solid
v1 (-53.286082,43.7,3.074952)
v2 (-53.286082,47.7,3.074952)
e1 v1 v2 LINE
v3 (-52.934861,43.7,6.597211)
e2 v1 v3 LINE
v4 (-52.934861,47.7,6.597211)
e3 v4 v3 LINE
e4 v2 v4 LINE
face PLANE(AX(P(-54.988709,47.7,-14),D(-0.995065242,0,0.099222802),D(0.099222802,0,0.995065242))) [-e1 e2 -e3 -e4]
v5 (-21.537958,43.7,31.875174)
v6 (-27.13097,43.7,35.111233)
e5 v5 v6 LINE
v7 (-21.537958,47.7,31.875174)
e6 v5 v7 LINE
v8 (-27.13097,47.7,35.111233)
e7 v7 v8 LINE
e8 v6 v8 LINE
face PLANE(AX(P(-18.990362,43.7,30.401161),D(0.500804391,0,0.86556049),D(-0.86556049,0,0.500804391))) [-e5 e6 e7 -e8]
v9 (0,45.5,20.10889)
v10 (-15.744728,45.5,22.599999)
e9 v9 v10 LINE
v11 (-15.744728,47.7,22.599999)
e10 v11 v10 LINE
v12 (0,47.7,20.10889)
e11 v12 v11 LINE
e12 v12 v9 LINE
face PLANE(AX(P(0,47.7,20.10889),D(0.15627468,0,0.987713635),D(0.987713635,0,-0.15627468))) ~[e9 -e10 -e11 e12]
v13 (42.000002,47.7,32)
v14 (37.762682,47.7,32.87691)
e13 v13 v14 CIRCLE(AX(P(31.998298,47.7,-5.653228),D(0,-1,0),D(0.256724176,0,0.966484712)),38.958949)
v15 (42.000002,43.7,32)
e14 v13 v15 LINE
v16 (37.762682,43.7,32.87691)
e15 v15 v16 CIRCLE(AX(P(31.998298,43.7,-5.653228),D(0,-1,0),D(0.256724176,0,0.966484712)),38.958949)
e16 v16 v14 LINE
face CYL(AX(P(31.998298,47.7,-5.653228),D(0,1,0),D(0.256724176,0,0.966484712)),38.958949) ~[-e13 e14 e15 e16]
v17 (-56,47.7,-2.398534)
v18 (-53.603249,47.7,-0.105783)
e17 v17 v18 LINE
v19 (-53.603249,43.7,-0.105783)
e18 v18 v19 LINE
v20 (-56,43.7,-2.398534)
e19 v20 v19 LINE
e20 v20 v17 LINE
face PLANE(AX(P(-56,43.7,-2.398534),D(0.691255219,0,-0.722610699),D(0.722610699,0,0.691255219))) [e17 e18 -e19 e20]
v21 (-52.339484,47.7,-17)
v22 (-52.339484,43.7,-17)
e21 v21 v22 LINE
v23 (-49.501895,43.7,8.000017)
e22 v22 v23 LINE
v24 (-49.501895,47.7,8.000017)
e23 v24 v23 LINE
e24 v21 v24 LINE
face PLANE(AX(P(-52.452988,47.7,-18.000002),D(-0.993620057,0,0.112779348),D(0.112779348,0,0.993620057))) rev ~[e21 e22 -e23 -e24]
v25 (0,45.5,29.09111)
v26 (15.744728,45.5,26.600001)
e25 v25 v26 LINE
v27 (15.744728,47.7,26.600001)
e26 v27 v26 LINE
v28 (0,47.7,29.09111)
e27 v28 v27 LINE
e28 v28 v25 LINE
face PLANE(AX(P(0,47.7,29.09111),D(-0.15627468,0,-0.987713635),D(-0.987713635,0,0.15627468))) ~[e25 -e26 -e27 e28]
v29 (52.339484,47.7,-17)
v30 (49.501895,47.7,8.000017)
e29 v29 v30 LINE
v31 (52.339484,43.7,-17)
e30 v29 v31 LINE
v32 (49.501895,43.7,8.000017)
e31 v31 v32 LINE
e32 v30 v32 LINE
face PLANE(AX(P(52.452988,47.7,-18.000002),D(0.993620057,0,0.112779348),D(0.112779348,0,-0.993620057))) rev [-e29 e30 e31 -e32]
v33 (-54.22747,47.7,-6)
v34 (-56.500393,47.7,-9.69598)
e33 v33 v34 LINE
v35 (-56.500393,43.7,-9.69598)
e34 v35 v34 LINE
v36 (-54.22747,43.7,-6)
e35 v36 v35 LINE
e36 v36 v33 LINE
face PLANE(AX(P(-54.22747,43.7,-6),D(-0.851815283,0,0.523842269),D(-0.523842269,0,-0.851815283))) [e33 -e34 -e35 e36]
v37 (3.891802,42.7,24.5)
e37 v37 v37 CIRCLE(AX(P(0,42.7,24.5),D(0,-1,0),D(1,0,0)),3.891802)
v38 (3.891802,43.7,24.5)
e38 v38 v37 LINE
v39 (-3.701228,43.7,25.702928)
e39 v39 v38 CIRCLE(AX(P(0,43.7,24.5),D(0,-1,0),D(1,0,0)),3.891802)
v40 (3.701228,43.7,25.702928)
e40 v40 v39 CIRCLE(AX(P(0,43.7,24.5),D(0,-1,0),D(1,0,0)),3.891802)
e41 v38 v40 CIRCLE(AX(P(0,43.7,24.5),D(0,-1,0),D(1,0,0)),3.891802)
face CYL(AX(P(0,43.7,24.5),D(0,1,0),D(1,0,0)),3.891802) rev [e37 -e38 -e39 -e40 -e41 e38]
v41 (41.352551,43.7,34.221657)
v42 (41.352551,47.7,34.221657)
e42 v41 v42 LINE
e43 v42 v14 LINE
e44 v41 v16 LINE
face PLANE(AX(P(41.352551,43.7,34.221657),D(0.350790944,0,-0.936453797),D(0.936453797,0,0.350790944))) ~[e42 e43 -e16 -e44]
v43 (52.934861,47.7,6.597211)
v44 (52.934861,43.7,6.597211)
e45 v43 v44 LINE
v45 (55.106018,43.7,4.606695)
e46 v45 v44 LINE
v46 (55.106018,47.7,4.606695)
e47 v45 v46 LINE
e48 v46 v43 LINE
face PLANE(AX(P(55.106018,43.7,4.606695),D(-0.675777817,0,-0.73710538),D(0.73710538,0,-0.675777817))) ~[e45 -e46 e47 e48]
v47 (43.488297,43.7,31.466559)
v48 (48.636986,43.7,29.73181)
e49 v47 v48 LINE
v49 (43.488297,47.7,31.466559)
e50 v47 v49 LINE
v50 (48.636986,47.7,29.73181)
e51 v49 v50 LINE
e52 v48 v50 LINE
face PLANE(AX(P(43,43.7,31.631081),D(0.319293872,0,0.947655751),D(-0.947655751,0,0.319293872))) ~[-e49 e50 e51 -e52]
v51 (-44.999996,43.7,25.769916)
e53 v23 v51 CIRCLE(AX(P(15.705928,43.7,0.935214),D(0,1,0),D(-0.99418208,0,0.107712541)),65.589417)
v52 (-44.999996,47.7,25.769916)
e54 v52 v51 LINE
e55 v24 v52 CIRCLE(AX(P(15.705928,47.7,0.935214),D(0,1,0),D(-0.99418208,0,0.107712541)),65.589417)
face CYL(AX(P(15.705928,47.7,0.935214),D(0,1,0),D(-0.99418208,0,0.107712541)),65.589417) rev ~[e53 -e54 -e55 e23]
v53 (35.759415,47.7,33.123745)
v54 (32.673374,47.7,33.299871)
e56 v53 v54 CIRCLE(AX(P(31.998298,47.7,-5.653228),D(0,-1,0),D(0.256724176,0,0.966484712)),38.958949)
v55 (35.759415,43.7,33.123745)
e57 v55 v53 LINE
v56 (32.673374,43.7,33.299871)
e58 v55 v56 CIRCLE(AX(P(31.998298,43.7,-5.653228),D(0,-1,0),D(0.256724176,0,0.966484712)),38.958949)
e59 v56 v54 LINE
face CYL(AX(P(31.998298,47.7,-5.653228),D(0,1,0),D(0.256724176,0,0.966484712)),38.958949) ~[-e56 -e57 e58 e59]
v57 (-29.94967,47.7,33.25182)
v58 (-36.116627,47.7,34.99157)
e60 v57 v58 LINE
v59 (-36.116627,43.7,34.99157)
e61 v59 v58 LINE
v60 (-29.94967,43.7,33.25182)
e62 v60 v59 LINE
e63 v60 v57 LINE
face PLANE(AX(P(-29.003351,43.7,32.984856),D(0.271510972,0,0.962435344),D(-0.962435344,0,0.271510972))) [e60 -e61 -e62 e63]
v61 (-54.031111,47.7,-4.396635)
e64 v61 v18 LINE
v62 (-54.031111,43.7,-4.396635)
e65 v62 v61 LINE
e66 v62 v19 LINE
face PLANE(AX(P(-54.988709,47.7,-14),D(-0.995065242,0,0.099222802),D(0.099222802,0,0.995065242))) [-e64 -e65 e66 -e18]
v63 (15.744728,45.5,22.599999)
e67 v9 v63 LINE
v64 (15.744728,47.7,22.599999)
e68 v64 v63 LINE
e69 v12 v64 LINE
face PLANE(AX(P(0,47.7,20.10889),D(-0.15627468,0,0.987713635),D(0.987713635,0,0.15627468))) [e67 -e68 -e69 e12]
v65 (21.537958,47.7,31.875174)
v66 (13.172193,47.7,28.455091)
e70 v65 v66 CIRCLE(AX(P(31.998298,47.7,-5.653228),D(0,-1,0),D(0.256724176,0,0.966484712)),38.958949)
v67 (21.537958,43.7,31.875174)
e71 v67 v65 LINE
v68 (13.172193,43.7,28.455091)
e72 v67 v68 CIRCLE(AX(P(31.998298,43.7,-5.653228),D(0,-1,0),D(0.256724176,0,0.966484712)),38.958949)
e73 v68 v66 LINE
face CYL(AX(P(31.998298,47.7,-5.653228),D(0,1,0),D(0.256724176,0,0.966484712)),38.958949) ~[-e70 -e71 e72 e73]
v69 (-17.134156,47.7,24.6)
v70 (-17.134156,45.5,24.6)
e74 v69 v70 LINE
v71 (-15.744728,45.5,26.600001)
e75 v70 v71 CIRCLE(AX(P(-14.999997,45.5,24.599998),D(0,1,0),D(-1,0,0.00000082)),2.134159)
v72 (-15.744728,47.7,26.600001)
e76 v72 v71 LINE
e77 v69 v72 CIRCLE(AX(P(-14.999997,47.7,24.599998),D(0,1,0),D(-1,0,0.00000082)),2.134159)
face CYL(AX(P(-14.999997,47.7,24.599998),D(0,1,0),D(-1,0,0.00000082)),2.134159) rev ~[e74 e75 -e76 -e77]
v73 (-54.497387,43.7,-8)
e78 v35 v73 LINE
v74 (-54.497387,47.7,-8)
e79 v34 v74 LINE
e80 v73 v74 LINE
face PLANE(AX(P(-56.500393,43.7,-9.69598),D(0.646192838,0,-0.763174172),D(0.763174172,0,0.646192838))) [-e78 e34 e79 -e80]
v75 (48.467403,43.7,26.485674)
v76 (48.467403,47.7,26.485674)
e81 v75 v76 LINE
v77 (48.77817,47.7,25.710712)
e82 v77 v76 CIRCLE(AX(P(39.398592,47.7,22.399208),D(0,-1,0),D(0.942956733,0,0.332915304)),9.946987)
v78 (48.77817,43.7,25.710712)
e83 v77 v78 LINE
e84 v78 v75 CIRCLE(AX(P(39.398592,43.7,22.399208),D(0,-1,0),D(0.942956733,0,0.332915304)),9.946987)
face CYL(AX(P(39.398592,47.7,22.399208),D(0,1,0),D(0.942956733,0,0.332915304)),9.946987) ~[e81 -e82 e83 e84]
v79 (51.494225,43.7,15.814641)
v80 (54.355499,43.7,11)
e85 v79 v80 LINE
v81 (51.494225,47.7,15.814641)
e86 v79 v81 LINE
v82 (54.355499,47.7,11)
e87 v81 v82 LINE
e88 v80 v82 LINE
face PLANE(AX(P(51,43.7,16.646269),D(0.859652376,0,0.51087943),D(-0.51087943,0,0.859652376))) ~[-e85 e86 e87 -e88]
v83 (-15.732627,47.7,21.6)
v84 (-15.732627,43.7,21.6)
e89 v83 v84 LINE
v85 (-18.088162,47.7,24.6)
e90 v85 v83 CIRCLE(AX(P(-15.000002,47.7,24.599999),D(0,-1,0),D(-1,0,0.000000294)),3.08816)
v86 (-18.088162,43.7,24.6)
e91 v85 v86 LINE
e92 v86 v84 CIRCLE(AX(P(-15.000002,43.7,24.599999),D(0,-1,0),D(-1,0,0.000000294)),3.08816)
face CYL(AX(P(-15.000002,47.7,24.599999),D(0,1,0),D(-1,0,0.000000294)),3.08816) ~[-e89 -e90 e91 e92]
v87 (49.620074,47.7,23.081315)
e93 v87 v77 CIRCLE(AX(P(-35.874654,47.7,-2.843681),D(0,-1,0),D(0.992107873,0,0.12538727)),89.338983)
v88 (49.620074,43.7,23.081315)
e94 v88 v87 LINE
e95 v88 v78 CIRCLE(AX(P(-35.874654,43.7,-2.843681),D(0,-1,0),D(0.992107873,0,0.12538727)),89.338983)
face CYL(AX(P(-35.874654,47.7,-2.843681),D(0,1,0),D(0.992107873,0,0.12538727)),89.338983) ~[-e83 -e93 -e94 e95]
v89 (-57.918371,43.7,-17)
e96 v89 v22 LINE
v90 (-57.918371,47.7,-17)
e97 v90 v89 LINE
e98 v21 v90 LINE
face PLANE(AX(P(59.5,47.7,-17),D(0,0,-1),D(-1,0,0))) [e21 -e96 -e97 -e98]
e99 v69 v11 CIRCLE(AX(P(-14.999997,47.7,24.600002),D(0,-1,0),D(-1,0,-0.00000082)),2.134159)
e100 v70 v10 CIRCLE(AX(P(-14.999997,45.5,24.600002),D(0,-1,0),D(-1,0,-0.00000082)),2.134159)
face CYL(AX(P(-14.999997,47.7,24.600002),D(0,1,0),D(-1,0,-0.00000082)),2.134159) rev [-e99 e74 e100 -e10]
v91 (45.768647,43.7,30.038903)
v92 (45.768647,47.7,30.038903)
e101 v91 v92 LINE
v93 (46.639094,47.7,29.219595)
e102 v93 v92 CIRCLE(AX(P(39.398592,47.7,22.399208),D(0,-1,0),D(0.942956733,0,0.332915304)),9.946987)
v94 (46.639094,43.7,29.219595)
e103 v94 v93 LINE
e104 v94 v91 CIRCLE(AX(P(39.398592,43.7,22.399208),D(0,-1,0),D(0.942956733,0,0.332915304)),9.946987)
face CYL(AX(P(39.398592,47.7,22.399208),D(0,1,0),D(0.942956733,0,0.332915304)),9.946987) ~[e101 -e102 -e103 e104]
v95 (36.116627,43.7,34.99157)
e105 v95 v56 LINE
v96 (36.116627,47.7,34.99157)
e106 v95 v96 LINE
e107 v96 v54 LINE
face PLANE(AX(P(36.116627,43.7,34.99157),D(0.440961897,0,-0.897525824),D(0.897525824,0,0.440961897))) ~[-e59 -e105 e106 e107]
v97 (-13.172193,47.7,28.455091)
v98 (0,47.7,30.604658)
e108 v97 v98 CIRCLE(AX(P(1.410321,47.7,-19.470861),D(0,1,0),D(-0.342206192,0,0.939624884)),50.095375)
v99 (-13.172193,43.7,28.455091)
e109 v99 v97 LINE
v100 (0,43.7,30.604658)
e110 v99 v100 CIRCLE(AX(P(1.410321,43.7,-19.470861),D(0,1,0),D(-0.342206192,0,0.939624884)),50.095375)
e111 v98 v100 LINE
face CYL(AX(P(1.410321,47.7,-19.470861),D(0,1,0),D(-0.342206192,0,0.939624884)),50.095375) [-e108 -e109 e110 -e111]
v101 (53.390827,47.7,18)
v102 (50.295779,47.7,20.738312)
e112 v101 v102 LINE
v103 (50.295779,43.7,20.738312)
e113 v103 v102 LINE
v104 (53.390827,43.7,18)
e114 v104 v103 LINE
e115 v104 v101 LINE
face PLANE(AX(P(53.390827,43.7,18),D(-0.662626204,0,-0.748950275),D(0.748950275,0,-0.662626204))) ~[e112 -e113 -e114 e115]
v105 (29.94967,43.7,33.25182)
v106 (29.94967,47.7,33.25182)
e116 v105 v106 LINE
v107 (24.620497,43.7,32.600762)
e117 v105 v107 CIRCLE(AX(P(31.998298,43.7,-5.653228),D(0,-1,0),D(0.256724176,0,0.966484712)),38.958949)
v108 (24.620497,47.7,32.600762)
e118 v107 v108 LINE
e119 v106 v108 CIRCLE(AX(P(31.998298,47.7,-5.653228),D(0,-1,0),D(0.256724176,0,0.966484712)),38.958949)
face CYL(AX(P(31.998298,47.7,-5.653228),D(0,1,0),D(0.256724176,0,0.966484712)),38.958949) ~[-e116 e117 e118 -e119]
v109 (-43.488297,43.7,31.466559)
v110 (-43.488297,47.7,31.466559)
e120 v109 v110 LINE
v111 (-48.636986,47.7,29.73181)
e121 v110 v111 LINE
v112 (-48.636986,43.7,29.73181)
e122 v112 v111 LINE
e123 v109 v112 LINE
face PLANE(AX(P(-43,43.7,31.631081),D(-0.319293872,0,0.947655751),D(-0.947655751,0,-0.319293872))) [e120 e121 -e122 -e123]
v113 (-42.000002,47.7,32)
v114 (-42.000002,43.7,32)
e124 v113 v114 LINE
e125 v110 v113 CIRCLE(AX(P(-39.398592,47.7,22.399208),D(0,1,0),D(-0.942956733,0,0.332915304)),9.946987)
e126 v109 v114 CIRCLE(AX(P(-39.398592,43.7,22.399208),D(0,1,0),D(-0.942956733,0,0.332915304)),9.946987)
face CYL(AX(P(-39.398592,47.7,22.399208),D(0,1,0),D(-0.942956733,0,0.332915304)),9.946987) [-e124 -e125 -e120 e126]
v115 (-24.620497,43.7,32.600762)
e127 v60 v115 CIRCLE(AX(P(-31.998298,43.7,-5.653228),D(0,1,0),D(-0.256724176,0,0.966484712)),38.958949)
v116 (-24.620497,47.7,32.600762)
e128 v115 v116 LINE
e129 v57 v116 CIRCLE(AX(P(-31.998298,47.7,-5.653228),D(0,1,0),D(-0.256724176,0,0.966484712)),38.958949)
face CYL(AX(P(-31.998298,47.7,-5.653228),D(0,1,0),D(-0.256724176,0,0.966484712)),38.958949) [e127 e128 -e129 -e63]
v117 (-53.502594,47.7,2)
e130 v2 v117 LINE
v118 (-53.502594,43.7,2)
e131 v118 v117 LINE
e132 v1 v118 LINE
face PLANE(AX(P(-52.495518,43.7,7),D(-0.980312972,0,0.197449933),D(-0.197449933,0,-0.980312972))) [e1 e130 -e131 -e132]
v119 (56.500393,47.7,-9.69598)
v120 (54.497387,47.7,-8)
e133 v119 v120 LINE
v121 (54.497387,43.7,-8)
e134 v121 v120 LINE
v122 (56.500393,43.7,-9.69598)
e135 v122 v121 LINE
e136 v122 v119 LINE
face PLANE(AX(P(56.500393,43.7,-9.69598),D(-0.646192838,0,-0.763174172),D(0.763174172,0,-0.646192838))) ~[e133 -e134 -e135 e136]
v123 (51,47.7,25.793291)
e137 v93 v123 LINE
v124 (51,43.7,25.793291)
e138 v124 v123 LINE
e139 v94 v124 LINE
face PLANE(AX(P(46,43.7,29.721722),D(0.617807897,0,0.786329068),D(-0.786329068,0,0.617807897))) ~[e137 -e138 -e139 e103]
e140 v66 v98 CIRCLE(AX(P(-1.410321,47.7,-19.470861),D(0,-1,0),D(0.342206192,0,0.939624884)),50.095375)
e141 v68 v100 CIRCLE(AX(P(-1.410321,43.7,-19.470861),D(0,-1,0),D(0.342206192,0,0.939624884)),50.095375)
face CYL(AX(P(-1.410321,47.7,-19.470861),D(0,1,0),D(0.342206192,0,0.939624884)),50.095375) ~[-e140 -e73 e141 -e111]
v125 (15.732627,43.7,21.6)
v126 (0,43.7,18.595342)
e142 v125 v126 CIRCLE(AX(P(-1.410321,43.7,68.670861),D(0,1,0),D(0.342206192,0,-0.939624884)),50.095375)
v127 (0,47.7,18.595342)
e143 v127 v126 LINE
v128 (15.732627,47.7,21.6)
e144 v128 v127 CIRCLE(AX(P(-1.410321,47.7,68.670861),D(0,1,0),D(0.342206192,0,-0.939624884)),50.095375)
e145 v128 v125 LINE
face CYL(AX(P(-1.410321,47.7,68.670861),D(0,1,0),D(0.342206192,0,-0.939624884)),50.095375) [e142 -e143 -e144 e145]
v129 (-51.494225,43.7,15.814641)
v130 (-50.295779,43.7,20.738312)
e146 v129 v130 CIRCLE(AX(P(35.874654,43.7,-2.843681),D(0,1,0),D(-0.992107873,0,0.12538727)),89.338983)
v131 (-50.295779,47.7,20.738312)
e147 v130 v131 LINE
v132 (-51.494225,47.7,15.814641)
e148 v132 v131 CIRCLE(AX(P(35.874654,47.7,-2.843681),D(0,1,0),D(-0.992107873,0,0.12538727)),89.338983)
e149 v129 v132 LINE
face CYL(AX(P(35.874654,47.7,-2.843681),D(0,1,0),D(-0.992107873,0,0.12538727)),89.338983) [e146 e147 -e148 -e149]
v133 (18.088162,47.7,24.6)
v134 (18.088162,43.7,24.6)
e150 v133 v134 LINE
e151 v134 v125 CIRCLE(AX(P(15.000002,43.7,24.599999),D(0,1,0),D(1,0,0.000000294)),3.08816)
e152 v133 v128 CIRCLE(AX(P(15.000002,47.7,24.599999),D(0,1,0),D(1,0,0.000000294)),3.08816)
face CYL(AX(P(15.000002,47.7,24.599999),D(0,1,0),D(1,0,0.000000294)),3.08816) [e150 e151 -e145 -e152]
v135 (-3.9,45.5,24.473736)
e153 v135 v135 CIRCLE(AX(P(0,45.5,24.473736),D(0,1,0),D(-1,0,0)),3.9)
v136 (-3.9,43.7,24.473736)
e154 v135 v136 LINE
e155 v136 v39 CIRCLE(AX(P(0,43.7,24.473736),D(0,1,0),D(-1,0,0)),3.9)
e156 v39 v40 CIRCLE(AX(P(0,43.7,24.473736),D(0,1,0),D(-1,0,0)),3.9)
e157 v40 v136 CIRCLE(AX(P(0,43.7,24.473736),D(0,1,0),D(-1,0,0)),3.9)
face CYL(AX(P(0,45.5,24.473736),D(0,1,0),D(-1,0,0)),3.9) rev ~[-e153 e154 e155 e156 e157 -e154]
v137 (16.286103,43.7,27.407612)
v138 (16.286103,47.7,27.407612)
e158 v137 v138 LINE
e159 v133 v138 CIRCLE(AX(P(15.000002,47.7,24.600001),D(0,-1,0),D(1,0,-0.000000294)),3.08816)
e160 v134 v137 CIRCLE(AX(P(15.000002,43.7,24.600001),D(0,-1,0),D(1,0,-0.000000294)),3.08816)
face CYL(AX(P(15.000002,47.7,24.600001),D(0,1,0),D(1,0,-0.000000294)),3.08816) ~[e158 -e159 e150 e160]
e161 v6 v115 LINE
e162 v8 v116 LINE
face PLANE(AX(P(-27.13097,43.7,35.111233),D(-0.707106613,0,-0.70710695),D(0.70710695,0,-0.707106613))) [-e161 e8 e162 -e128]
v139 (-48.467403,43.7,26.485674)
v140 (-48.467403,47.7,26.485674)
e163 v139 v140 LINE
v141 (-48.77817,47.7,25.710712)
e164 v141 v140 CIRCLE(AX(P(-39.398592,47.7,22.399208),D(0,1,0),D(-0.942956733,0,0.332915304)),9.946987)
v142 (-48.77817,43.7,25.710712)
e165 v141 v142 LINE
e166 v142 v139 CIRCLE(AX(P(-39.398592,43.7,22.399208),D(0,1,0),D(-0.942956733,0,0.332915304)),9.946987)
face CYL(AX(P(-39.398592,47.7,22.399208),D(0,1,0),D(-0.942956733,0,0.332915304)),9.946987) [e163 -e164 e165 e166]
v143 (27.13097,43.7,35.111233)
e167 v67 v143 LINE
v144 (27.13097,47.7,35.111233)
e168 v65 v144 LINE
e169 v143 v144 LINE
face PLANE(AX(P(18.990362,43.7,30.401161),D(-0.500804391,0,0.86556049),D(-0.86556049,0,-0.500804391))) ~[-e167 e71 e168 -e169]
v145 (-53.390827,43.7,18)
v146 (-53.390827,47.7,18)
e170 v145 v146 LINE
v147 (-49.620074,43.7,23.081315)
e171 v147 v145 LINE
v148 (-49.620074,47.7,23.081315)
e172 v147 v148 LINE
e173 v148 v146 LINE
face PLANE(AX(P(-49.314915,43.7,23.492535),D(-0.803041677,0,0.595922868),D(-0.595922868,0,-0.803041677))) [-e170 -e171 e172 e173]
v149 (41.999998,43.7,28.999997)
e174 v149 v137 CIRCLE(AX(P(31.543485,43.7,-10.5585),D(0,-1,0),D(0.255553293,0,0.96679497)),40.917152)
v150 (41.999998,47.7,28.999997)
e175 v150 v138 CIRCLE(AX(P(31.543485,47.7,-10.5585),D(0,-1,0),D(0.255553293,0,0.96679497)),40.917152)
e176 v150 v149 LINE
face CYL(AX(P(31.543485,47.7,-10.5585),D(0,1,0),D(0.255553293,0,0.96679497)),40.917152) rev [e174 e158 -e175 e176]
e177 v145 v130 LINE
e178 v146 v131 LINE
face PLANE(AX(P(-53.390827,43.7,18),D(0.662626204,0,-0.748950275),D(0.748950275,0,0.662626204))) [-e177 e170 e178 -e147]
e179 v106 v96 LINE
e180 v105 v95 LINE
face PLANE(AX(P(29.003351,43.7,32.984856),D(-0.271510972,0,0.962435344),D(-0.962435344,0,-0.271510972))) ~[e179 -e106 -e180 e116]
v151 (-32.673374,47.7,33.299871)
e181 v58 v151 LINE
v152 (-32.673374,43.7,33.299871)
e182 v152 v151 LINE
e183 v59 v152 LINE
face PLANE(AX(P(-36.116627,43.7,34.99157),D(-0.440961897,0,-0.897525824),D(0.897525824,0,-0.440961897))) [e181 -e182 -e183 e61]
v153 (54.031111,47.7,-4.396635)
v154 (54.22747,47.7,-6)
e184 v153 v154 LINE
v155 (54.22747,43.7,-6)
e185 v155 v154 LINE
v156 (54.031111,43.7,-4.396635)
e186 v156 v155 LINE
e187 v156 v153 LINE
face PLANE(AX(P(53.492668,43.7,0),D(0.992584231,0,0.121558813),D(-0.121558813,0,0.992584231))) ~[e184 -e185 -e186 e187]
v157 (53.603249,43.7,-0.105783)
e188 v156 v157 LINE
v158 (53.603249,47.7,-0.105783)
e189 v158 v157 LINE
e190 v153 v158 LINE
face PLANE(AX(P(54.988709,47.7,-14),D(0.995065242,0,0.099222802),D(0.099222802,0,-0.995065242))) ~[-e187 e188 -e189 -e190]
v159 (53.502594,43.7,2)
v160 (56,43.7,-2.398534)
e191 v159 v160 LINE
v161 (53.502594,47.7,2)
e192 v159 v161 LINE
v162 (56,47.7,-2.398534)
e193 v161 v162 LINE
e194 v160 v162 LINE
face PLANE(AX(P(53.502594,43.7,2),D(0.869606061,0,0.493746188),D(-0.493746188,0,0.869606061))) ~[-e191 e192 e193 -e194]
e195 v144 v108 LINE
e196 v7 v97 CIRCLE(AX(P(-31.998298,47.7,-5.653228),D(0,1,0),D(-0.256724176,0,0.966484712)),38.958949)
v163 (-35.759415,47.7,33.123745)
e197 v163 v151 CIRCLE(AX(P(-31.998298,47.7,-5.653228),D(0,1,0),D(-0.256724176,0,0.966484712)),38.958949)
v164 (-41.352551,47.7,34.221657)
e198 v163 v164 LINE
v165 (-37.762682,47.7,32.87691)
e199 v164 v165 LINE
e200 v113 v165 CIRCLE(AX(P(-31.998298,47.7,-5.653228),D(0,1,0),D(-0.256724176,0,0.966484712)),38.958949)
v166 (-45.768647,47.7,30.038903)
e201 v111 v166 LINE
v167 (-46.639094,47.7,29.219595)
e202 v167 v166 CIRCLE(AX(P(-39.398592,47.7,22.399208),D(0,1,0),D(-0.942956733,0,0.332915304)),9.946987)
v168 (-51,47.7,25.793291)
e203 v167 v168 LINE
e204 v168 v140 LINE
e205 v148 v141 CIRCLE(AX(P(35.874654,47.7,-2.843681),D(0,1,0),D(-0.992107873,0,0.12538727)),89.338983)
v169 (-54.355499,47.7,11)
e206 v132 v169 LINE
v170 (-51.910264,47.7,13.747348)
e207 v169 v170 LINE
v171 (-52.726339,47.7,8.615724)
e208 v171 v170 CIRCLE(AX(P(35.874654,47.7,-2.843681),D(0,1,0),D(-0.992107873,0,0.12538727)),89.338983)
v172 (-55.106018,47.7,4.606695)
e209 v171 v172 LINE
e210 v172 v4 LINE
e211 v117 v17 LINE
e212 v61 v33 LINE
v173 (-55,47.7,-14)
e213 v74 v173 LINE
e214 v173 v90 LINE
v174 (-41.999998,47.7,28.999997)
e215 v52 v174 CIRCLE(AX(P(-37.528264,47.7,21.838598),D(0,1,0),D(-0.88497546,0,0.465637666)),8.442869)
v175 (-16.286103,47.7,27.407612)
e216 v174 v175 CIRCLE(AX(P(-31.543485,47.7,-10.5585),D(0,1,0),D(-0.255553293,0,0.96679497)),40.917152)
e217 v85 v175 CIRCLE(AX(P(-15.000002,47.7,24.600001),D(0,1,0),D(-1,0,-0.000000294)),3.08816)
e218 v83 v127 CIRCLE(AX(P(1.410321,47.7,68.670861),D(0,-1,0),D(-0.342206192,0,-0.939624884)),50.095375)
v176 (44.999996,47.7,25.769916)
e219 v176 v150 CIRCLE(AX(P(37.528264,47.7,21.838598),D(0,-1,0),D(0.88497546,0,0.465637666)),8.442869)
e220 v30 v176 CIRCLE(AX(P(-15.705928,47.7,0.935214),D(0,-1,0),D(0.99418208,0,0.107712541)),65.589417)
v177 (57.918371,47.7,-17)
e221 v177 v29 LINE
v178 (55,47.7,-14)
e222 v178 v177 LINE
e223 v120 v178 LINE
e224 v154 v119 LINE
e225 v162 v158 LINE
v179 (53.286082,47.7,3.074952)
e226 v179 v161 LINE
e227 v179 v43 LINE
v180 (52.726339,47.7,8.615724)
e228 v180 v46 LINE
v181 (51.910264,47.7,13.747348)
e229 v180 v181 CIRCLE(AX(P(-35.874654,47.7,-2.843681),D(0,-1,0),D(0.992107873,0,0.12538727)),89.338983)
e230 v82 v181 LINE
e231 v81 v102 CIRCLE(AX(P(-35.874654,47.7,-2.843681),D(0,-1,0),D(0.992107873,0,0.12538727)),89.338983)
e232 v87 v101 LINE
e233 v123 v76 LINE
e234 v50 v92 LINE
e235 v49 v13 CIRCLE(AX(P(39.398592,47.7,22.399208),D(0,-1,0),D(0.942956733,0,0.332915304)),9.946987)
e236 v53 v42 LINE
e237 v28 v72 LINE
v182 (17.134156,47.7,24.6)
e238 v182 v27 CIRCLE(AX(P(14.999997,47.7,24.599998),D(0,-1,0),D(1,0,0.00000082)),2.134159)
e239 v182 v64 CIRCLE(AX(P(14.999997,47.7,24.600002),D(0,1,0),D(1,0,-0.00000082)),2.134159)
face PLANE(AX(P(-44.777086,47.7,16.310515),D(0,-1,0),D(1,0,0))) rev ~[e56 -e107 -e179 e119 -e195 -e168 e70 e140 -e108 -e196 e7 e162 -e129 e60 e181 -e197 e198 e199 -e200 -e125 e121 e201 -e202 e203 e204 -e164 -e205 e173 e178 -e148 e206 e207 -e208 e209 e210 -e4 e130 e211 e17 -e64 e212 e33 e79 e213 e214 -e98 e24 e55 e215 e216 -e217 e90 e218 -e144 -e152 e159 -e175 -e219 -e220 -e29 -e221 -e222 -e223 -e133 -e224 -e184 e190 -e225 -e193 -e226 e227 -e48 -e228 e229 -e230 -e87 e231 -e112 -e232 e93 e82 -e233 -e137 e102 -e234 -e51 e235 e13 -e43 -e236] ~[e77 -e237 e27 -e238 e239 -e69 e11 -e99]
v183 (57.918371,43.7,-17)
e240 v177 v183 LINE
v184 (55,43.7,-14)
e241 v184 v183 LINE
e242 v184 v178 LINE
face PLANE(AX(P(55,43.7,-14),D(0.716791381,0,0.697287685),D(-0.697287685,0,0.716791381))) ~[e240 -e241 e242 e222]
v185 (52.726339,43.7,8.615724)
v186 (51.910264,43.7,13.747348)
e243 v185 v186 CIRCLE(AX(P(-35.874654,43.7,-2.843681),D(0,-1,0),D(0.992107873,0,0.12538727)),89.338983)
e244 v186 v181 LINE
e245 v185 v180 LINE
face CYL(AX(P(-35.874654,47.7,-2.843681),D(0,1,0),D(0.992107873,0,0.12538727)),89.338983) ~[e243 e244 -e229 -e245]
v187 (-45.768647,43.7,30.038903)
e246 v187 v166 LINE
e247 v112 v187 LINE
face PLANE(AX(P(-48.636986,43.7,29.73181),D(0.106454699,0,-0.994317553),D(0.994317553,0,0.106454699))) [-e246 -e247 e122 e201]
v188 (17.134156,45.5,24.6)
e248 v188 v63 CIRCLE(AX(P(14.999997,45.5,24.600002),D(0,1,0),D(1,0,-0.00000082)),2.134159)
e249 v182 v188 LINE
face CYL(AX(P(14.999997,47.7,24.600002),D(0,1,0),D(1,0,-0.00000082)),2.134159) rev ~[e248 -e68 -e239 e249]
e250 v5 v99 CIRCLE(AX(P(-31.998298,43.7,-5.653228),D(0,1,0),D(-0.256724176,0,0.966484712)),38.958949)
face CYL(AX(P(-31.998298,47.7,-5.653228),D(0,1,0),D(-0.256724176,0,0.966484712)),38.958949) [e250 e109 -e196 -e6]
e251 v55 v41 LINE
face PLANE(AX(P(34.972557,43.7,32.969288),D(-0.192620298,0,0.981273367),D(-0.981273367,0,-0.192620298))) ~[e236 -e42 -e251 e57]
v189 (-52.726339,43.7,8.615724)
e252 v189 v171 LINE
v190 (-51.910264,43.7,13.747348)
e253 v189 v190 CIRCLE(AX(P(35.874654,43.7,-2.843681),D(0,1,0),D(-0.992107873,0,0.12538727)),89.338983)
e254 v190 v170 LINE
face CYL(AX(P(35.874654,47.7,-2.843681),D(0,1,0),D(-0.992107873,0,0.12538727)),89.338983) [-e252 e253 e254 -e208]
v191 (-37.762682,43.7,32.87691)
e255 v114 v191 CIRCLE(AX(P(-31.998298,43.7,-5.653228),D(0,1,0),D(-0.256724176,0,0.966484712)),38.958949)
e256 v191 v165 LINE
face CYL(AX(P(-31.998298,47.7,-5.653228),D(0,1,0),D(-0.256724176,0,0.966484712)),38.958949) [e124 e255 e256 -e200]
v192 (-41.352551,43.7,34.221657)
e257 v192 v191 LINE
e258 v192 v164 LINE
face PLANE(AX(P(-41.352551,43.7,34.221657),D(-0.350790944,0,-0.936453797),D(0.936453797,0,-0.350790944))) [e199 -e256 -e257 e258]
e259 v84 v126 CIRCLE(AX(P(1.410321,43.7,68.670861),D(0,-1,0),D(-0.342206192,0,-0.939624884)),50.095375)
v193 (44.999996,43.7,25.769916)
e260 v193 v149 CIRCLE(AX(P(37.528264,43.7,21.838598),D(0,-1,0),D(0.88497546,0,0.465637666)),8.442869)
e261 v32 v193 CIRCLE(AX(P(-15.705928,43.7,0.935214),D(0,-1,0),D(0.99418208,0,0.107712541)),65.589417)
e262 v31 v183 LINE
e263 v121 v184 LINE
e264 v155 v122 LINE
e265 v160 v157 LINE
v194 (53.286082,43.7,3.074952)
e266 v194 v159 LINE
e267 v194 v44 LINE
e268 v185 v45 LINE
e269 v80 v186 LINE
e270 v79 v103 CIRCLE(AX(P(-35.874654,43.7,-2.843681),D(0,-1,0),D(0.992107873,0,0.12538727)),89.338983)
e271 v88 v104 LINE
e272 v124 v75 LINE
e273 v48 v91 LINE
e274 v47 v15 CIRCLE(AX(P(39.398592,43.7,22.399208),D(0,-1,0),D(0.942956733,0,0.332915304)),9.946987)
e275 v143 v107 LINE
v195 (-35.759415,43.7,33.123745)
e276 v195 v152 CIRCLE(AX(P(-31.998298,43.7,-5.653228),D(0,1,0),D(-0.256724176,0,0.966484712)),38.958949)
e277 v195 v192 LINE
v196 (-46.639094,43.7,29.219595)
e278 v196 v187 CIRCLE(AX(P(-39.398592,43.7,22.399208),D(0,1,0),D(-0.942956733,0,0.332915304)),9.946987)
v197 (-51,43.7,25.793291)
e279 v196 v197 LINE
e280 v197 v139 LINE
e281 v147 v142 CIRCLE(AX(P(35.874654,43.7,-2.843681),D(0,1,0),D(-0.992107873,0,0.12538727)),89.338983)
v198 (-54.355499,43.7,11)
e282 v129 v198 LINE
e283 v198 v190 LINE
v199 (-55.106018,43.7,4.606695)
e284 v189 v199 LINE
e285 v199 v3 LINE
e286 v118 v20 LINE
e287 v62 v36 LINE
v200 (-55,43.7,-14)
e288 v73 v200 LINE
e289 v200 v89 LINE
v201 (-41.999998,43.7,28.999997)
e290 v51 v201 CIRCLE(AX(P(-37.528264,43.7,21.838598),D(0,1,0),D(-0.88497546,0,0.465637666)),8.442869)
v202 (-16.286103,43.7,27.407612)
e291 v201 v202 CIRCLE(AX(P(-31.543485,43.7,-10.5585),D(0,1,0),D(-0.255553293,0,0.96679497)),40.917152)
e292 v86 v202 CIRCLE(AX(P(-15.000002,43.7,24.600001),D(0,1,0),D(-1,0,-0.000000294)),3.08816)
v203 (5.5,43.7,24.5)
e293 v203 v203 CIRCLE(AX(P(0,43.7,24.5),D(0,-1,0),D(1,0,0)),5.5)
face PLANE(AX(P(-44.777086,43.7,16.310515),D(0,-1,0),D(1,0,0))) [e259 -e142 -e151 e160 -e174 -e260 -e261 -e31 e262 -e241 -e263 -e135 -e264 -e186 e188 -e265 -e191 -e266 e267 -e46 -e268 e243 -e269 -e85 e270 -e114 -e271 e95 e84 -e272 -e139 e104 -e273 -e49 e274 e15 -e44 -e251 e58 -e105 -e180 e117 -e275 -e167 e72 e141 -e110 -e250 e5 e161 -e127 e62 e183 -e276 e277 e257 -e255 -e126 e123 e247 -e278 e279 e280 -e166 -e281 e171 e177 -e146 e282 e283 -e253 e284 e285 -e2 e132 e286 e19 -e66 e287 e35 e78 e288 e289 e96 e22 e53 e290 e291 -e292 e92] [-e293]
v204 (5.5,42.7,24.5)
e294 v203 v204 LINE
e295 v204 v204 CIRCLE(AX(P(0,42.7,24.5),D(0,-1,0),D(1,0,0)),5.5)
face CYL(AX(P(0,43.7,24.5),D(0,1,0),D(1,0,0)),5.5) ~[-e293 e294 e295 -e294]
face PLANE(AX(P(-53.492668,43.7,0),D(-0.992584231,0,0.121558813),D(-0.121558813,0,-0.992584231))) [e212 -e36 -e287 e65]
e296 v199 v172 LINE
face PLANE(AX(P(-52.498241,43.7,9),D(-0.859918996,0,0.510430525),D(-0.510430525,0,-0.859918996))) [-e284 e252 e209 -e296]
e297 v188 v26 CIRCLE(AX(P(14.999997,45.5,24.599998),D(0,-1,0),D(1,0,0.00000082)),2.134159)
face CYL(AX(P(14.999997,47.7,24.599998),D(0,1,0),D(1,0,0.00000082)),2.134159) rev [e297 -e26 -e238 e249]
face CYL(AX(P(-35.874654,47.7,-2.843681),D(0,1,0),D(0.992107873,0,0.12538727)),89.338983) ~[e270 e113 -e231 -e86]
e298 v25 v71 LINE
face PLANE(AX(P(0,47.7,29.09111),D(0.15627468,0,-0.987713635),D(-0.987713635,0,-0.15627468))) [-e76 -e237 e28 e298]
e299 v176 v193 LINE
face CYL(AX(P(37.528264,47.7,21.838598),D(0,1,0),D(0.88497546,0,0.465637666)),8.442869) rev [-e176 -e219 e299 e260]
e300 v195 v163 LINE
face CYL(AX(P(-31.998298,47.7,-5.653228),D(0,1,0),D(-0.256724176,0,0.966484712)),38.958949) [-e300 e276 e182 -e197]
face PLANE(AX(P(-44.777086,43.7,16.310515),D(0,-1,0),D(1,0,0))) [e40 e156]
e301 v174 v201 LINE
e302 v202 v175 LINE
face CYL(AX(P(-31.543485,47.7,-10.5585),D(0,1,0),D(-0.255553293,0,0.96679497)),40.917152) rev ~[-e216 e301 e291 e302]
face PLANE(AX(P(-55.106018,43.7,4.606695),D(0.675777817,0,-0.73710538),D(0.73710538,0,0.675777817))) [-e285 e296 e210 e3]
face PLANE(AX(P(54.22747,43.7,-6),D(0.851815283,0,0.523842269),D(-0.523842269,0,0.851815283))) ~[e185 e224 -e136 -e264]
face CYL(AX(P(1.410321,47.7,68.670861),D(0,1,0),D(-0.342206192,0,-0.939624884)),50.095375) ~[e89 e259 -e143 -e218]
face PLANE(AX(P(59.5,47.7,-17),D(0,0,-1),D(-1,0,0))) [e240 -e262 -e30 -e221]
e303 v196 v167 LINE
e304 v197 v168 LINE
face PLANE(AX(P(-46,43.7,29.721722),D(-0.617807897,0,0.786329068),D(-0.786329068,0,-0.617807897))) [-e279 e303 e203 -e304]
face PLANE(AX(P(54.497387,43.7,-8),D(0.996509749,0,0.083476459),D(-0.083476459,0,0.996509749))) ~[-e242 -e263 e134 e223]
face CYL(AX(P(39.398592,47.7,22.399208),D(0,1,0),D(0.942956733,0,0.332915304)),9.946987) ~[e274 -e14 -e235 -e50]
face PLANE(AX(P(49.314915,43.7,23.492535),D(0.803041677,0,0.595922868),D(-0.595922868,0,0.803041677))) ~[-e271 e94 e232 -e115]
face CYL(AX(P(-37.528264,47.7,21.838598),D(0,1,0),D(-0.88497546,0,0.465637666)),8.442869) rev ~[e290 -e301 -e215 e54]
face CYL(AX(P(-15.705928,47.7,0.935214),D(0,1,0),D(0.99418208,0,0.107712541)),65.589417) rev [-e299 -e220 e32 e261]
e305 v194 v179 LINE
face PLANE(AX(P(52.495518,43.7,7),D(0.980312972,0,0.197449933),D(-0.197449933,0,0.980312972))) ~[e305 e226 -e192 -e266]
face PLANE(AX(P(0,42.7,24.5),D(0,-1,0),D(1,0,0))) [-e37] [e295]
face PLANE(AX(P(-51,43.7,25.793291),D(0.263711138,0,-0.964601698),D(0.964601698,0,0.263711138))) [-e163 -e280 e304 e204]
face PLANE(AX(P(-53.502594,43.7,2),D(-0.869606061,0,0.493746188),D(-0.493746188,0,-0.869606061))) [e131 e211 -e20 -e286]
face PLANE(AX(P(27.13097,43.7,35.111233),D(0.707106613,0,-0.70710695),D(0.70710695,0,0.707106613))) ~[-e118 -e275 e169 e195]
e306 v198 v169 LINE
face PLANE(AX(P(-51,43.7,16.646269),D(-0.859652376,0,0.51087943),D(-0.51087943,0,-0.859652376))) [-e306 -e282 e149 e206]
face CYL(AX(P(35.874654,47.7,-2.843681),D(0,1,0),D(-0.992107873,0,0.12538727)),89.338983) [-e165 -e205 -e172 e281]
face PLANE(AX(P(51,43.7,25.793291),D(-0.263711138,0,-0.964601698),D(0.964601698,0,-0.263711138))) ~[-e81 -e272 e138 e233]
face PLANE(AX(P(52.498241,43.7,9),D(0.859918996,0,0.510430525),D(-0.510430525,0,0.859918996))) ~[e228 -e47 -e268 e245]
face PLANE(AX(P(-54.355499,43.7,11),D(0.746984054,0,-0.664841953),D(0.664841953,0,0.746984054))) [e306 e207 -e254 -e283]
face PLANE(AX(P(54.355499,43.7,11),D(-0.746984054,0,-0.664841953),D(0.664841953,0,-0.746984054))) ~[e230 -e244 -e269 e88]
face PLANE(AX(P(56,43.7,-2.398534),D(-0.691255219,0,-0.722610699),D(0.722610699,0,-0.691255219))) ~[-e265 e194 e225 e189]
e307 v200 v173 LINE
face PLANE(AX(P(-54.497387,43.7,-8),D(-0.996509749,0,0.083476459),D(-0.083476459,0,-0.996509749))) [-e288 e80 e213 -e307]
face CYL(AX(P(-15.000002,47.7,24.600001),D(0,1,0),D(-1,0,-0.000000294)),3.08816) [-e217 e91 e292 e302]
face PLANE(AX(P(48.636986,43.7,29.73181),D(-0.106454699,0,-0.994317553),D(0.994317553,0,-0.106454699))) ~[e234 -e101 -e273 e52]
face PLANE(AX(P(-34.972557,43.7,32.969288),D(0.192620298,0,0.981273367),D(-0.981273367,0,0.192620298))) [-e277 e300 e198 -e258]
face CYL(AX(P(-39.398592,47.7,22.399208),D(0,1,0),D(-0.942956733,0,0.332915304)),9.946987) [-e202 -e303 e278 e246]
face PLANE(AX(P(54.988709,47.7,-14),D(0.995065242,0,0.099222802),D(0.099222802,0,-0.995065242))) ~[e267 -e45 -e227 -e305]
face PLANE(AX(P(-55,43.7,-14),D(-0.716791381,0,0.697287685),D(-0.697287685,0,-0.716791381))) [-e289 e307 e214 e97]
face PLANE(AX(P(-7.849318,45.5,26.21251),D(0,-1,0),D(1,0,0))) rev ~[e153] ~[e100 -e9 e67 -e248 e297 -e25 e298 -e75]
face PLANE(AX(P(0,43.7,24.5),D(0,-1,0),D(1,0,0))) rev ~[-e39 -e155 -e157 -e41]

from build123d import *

# Parameters (mm, degrees)
PAD071_DEPTH       = 4
PAD069_DEPTH       = 4
POCKET003051_DEPTH = 2.2
PAD070_DEPTH       = 4
SKETCH116_R        = 3.9
POCKET003052_DEPTH = 10
SKETCH118_R        = 5.5
SKETCH118_R_2      = 3.891802
PAD072_DEPTH       = 1
SKETCH119_W        = 122.5
SKETCH119_H        = 2
POCKET003053_DEPTH = 5


with BuildPart() as central_leg_insect_add001:
    # Sketch117 → Pad071 (new body)
    with BuildSketch(Plane.XZ.offset(-43.7)):
        Polygon((-58.503296, -18.004301), (-53.997036, -18.004301), (-48.744877, 15.965196), (-44.5658, 27.943165), (-41.53833, 30.02603), (-31.626242, 31.40176), (-21.017805, 29.65671), (-18.990362, 30.401161), (-27.13097, 35.111233), (-22.936073, 30.916338), (-29.003351, 32.984856), (-36.116627, 34.99157), (-32.000511, 32.969288), (-34.972557, 32.969288), (-41.352551, 34.221657), (-37, 32.591213), (-43, 31.631081), (-48.636986, 29.73181), (-44, 30.22826), (-46, 29.721722), (-51, 25.793291), (-47.464714, 26.759798), (-49.314915, 23.492535), (-53.390827, 18), (-50, 21), (-51, 16.646269), (-54.355499, 11), (-51.685394, 14), (-52.498241, 9), (-55.106018, 4.606695), (-52.495518, 7), (-53.502594, 2), (-56, -2.398534), (-53.492668, 0), (-54.22747, -6), (-56.500393, -9.69598), (-54.497387, -8), (-55, -14), (-58.503296, -17.601286), align=None)
    extrude(amount=-PAD071_DEPTH)


with BuildPart() as quarter_central_leg_servo_support001:
    # Sketch113 → Pad069 (new body)
    with BuildSketch(Plane(origin=(0, 47.7, 24.6), x_dir=(-1, 0, 0), z_dir=(0, 1, 0))):
        with BuildLine():
            ThreePointArc((15.732627, 3), (7.987175, 5.135172), (0, 6.004658))
            Line((0, 6.004658), (0, 4.275313))
            Line((0, 4.275313), (0, 0))
            Line((16.774147, 0), (0, 0))
            Line((18.088162, 0), (16.774147, 0))
            ThreePointArc((18.088162, 0), (17.428911, 1.907128), (15.732627, 3))
        make_face()
    extrude(amount=-PAD069_DEPTH)

    # Sketch114 → Pocket003051 (cut)
    with BuildSketch(Plane(origin=(0, 47.7, 24.6), x_dir=(-1, 0, 0), z_dir=(0, 1, 0))):
        with BuildLine():
            Line((0, 4.49111), (15.744728, 2.000001))
            ThreePointArc((17.134156, 0), (16.75271, 1.217632), (15.744728, 2.000001))
            Line((17.134156, 0), (0, 0))
            Line((0, 0), (0, 4.49111))
        make_face()
    extrude(amount=-POCKET003051_DEPTH, mode=Mode.SUBTRACT)


with BuildPart() as half_leg_insect001:
    # Part__Mirroring009: instance of quarter_central_leg_servo_support001
    add(quarter_central_leg_servo_support001.part.mirror(Plane(origin=(0, 0, 24.6), x_dir=(0, 1, 0), z_dir=(0, 0, 1))))

    # Fusion007042: union quarter_central_leg_servo_support001
    add(quarter_central_leg_servo_support001.part)

    # Sketch115 → Pad070 (new body)
    with BuildSketch(Plane(origin=(0, 47.7, 0), x_dir=(-1, 0, 0), z_dir=(0, 1, 0))):
        with BuildLine():
            Line((52.452988, -18.000002), (58.497849, -18.000002))
            Line((58.497849, -18.000002), (58.497849, -17.584217))
            ThreePointArc((54.988709, -14), (56.535613, -15.995425), (58.497849, -17.584217))
            Line((54.988709, -14), (52.759255, 8.35829))
            ThreePointArc((52.759255, 8.35829), (51.202034, 17.133916), (48.77817, 25.710712))
            ThreePointArc((48.77817, 25.710712), (46.1643, 29.690829), (42.000002, 32))
            ThreePointArc((42.000002, 32), (27.145674, 33.002324), (13.00001, 28.359486))
            Line((16, 27.29138), (13.00001, 28.359486))
            ThreePointArc((41.999998, 28.999997), (28.860359, 30.270585), (16, 27.29138))
            ThreePointArc((44.999996, 25.769916), (43.714535, 27.584213), (41.999998, 28.999997))
            ThreePointArc((49.501895, 8.000017), (47.87481, 17.043019), (44.999996, 25.769916))
            Line((52.452988, -18.000002), (49.501895, 8.000017))
        make_face()
    extrude(amount=-PAD070_DEPTH)

    # Fusion007043: union central_leg_insect_add001
    add(central_leg_insect_add001.part)


with BuildPart() as cut_central_leg_sg90:
    # Part__Mirroring010: instance of half_leg_insect001
    add(half_leg_insect001.part.mirror(Plane(origin=(0, 0, 0), x_dir=(0, -1, 0), z_dir=(1, 0, 0))))

    # Fusion007044: union half_leg_insect001
    add(half_leg_insect001.part)

    # Sketch116 → Pocket003052 (cut)
    with BuildSketch(Plane(origin=(0, 45.5, 0), x_dir=(-1, 0, 0), z_dir=(0, 1, 0))):
        with Locations((0, 24.473736)):
            Circle(SKETCH116_R)
    extrude(amount=-POCKET003052_DEPTH, mode=Mode.SUBTRACT)

    # Sketch118 → Pad072 (new body)
    with BuildSketch(Plane.XZ.offset(-43.7)):
        with Locations((0, 24.5)):
            Circle(SKETCH118_R)
        with Locations((0, 24.5)):
            Circle(SKETCH118_R_2, mode=Mode.SUBTRACT)
    extrude(amount=PAD072_DEPTH)

    # Sketch119 → Pocket003053 (cut)
    with BuildSketch(Plane(origin=(0, 47.7, 0), x_dir=(-1, 0, 0), z_dir=(0, 1, 0))):
        with Locations((1.75, -18)):
            Rectangle(SKETCH119_W, SKETCH119_H)
    extrude(amount=-POCKET003053_DEPTH, mode=Mode.SUBTRACT)


solid = cut_central_leg_sg90.part
